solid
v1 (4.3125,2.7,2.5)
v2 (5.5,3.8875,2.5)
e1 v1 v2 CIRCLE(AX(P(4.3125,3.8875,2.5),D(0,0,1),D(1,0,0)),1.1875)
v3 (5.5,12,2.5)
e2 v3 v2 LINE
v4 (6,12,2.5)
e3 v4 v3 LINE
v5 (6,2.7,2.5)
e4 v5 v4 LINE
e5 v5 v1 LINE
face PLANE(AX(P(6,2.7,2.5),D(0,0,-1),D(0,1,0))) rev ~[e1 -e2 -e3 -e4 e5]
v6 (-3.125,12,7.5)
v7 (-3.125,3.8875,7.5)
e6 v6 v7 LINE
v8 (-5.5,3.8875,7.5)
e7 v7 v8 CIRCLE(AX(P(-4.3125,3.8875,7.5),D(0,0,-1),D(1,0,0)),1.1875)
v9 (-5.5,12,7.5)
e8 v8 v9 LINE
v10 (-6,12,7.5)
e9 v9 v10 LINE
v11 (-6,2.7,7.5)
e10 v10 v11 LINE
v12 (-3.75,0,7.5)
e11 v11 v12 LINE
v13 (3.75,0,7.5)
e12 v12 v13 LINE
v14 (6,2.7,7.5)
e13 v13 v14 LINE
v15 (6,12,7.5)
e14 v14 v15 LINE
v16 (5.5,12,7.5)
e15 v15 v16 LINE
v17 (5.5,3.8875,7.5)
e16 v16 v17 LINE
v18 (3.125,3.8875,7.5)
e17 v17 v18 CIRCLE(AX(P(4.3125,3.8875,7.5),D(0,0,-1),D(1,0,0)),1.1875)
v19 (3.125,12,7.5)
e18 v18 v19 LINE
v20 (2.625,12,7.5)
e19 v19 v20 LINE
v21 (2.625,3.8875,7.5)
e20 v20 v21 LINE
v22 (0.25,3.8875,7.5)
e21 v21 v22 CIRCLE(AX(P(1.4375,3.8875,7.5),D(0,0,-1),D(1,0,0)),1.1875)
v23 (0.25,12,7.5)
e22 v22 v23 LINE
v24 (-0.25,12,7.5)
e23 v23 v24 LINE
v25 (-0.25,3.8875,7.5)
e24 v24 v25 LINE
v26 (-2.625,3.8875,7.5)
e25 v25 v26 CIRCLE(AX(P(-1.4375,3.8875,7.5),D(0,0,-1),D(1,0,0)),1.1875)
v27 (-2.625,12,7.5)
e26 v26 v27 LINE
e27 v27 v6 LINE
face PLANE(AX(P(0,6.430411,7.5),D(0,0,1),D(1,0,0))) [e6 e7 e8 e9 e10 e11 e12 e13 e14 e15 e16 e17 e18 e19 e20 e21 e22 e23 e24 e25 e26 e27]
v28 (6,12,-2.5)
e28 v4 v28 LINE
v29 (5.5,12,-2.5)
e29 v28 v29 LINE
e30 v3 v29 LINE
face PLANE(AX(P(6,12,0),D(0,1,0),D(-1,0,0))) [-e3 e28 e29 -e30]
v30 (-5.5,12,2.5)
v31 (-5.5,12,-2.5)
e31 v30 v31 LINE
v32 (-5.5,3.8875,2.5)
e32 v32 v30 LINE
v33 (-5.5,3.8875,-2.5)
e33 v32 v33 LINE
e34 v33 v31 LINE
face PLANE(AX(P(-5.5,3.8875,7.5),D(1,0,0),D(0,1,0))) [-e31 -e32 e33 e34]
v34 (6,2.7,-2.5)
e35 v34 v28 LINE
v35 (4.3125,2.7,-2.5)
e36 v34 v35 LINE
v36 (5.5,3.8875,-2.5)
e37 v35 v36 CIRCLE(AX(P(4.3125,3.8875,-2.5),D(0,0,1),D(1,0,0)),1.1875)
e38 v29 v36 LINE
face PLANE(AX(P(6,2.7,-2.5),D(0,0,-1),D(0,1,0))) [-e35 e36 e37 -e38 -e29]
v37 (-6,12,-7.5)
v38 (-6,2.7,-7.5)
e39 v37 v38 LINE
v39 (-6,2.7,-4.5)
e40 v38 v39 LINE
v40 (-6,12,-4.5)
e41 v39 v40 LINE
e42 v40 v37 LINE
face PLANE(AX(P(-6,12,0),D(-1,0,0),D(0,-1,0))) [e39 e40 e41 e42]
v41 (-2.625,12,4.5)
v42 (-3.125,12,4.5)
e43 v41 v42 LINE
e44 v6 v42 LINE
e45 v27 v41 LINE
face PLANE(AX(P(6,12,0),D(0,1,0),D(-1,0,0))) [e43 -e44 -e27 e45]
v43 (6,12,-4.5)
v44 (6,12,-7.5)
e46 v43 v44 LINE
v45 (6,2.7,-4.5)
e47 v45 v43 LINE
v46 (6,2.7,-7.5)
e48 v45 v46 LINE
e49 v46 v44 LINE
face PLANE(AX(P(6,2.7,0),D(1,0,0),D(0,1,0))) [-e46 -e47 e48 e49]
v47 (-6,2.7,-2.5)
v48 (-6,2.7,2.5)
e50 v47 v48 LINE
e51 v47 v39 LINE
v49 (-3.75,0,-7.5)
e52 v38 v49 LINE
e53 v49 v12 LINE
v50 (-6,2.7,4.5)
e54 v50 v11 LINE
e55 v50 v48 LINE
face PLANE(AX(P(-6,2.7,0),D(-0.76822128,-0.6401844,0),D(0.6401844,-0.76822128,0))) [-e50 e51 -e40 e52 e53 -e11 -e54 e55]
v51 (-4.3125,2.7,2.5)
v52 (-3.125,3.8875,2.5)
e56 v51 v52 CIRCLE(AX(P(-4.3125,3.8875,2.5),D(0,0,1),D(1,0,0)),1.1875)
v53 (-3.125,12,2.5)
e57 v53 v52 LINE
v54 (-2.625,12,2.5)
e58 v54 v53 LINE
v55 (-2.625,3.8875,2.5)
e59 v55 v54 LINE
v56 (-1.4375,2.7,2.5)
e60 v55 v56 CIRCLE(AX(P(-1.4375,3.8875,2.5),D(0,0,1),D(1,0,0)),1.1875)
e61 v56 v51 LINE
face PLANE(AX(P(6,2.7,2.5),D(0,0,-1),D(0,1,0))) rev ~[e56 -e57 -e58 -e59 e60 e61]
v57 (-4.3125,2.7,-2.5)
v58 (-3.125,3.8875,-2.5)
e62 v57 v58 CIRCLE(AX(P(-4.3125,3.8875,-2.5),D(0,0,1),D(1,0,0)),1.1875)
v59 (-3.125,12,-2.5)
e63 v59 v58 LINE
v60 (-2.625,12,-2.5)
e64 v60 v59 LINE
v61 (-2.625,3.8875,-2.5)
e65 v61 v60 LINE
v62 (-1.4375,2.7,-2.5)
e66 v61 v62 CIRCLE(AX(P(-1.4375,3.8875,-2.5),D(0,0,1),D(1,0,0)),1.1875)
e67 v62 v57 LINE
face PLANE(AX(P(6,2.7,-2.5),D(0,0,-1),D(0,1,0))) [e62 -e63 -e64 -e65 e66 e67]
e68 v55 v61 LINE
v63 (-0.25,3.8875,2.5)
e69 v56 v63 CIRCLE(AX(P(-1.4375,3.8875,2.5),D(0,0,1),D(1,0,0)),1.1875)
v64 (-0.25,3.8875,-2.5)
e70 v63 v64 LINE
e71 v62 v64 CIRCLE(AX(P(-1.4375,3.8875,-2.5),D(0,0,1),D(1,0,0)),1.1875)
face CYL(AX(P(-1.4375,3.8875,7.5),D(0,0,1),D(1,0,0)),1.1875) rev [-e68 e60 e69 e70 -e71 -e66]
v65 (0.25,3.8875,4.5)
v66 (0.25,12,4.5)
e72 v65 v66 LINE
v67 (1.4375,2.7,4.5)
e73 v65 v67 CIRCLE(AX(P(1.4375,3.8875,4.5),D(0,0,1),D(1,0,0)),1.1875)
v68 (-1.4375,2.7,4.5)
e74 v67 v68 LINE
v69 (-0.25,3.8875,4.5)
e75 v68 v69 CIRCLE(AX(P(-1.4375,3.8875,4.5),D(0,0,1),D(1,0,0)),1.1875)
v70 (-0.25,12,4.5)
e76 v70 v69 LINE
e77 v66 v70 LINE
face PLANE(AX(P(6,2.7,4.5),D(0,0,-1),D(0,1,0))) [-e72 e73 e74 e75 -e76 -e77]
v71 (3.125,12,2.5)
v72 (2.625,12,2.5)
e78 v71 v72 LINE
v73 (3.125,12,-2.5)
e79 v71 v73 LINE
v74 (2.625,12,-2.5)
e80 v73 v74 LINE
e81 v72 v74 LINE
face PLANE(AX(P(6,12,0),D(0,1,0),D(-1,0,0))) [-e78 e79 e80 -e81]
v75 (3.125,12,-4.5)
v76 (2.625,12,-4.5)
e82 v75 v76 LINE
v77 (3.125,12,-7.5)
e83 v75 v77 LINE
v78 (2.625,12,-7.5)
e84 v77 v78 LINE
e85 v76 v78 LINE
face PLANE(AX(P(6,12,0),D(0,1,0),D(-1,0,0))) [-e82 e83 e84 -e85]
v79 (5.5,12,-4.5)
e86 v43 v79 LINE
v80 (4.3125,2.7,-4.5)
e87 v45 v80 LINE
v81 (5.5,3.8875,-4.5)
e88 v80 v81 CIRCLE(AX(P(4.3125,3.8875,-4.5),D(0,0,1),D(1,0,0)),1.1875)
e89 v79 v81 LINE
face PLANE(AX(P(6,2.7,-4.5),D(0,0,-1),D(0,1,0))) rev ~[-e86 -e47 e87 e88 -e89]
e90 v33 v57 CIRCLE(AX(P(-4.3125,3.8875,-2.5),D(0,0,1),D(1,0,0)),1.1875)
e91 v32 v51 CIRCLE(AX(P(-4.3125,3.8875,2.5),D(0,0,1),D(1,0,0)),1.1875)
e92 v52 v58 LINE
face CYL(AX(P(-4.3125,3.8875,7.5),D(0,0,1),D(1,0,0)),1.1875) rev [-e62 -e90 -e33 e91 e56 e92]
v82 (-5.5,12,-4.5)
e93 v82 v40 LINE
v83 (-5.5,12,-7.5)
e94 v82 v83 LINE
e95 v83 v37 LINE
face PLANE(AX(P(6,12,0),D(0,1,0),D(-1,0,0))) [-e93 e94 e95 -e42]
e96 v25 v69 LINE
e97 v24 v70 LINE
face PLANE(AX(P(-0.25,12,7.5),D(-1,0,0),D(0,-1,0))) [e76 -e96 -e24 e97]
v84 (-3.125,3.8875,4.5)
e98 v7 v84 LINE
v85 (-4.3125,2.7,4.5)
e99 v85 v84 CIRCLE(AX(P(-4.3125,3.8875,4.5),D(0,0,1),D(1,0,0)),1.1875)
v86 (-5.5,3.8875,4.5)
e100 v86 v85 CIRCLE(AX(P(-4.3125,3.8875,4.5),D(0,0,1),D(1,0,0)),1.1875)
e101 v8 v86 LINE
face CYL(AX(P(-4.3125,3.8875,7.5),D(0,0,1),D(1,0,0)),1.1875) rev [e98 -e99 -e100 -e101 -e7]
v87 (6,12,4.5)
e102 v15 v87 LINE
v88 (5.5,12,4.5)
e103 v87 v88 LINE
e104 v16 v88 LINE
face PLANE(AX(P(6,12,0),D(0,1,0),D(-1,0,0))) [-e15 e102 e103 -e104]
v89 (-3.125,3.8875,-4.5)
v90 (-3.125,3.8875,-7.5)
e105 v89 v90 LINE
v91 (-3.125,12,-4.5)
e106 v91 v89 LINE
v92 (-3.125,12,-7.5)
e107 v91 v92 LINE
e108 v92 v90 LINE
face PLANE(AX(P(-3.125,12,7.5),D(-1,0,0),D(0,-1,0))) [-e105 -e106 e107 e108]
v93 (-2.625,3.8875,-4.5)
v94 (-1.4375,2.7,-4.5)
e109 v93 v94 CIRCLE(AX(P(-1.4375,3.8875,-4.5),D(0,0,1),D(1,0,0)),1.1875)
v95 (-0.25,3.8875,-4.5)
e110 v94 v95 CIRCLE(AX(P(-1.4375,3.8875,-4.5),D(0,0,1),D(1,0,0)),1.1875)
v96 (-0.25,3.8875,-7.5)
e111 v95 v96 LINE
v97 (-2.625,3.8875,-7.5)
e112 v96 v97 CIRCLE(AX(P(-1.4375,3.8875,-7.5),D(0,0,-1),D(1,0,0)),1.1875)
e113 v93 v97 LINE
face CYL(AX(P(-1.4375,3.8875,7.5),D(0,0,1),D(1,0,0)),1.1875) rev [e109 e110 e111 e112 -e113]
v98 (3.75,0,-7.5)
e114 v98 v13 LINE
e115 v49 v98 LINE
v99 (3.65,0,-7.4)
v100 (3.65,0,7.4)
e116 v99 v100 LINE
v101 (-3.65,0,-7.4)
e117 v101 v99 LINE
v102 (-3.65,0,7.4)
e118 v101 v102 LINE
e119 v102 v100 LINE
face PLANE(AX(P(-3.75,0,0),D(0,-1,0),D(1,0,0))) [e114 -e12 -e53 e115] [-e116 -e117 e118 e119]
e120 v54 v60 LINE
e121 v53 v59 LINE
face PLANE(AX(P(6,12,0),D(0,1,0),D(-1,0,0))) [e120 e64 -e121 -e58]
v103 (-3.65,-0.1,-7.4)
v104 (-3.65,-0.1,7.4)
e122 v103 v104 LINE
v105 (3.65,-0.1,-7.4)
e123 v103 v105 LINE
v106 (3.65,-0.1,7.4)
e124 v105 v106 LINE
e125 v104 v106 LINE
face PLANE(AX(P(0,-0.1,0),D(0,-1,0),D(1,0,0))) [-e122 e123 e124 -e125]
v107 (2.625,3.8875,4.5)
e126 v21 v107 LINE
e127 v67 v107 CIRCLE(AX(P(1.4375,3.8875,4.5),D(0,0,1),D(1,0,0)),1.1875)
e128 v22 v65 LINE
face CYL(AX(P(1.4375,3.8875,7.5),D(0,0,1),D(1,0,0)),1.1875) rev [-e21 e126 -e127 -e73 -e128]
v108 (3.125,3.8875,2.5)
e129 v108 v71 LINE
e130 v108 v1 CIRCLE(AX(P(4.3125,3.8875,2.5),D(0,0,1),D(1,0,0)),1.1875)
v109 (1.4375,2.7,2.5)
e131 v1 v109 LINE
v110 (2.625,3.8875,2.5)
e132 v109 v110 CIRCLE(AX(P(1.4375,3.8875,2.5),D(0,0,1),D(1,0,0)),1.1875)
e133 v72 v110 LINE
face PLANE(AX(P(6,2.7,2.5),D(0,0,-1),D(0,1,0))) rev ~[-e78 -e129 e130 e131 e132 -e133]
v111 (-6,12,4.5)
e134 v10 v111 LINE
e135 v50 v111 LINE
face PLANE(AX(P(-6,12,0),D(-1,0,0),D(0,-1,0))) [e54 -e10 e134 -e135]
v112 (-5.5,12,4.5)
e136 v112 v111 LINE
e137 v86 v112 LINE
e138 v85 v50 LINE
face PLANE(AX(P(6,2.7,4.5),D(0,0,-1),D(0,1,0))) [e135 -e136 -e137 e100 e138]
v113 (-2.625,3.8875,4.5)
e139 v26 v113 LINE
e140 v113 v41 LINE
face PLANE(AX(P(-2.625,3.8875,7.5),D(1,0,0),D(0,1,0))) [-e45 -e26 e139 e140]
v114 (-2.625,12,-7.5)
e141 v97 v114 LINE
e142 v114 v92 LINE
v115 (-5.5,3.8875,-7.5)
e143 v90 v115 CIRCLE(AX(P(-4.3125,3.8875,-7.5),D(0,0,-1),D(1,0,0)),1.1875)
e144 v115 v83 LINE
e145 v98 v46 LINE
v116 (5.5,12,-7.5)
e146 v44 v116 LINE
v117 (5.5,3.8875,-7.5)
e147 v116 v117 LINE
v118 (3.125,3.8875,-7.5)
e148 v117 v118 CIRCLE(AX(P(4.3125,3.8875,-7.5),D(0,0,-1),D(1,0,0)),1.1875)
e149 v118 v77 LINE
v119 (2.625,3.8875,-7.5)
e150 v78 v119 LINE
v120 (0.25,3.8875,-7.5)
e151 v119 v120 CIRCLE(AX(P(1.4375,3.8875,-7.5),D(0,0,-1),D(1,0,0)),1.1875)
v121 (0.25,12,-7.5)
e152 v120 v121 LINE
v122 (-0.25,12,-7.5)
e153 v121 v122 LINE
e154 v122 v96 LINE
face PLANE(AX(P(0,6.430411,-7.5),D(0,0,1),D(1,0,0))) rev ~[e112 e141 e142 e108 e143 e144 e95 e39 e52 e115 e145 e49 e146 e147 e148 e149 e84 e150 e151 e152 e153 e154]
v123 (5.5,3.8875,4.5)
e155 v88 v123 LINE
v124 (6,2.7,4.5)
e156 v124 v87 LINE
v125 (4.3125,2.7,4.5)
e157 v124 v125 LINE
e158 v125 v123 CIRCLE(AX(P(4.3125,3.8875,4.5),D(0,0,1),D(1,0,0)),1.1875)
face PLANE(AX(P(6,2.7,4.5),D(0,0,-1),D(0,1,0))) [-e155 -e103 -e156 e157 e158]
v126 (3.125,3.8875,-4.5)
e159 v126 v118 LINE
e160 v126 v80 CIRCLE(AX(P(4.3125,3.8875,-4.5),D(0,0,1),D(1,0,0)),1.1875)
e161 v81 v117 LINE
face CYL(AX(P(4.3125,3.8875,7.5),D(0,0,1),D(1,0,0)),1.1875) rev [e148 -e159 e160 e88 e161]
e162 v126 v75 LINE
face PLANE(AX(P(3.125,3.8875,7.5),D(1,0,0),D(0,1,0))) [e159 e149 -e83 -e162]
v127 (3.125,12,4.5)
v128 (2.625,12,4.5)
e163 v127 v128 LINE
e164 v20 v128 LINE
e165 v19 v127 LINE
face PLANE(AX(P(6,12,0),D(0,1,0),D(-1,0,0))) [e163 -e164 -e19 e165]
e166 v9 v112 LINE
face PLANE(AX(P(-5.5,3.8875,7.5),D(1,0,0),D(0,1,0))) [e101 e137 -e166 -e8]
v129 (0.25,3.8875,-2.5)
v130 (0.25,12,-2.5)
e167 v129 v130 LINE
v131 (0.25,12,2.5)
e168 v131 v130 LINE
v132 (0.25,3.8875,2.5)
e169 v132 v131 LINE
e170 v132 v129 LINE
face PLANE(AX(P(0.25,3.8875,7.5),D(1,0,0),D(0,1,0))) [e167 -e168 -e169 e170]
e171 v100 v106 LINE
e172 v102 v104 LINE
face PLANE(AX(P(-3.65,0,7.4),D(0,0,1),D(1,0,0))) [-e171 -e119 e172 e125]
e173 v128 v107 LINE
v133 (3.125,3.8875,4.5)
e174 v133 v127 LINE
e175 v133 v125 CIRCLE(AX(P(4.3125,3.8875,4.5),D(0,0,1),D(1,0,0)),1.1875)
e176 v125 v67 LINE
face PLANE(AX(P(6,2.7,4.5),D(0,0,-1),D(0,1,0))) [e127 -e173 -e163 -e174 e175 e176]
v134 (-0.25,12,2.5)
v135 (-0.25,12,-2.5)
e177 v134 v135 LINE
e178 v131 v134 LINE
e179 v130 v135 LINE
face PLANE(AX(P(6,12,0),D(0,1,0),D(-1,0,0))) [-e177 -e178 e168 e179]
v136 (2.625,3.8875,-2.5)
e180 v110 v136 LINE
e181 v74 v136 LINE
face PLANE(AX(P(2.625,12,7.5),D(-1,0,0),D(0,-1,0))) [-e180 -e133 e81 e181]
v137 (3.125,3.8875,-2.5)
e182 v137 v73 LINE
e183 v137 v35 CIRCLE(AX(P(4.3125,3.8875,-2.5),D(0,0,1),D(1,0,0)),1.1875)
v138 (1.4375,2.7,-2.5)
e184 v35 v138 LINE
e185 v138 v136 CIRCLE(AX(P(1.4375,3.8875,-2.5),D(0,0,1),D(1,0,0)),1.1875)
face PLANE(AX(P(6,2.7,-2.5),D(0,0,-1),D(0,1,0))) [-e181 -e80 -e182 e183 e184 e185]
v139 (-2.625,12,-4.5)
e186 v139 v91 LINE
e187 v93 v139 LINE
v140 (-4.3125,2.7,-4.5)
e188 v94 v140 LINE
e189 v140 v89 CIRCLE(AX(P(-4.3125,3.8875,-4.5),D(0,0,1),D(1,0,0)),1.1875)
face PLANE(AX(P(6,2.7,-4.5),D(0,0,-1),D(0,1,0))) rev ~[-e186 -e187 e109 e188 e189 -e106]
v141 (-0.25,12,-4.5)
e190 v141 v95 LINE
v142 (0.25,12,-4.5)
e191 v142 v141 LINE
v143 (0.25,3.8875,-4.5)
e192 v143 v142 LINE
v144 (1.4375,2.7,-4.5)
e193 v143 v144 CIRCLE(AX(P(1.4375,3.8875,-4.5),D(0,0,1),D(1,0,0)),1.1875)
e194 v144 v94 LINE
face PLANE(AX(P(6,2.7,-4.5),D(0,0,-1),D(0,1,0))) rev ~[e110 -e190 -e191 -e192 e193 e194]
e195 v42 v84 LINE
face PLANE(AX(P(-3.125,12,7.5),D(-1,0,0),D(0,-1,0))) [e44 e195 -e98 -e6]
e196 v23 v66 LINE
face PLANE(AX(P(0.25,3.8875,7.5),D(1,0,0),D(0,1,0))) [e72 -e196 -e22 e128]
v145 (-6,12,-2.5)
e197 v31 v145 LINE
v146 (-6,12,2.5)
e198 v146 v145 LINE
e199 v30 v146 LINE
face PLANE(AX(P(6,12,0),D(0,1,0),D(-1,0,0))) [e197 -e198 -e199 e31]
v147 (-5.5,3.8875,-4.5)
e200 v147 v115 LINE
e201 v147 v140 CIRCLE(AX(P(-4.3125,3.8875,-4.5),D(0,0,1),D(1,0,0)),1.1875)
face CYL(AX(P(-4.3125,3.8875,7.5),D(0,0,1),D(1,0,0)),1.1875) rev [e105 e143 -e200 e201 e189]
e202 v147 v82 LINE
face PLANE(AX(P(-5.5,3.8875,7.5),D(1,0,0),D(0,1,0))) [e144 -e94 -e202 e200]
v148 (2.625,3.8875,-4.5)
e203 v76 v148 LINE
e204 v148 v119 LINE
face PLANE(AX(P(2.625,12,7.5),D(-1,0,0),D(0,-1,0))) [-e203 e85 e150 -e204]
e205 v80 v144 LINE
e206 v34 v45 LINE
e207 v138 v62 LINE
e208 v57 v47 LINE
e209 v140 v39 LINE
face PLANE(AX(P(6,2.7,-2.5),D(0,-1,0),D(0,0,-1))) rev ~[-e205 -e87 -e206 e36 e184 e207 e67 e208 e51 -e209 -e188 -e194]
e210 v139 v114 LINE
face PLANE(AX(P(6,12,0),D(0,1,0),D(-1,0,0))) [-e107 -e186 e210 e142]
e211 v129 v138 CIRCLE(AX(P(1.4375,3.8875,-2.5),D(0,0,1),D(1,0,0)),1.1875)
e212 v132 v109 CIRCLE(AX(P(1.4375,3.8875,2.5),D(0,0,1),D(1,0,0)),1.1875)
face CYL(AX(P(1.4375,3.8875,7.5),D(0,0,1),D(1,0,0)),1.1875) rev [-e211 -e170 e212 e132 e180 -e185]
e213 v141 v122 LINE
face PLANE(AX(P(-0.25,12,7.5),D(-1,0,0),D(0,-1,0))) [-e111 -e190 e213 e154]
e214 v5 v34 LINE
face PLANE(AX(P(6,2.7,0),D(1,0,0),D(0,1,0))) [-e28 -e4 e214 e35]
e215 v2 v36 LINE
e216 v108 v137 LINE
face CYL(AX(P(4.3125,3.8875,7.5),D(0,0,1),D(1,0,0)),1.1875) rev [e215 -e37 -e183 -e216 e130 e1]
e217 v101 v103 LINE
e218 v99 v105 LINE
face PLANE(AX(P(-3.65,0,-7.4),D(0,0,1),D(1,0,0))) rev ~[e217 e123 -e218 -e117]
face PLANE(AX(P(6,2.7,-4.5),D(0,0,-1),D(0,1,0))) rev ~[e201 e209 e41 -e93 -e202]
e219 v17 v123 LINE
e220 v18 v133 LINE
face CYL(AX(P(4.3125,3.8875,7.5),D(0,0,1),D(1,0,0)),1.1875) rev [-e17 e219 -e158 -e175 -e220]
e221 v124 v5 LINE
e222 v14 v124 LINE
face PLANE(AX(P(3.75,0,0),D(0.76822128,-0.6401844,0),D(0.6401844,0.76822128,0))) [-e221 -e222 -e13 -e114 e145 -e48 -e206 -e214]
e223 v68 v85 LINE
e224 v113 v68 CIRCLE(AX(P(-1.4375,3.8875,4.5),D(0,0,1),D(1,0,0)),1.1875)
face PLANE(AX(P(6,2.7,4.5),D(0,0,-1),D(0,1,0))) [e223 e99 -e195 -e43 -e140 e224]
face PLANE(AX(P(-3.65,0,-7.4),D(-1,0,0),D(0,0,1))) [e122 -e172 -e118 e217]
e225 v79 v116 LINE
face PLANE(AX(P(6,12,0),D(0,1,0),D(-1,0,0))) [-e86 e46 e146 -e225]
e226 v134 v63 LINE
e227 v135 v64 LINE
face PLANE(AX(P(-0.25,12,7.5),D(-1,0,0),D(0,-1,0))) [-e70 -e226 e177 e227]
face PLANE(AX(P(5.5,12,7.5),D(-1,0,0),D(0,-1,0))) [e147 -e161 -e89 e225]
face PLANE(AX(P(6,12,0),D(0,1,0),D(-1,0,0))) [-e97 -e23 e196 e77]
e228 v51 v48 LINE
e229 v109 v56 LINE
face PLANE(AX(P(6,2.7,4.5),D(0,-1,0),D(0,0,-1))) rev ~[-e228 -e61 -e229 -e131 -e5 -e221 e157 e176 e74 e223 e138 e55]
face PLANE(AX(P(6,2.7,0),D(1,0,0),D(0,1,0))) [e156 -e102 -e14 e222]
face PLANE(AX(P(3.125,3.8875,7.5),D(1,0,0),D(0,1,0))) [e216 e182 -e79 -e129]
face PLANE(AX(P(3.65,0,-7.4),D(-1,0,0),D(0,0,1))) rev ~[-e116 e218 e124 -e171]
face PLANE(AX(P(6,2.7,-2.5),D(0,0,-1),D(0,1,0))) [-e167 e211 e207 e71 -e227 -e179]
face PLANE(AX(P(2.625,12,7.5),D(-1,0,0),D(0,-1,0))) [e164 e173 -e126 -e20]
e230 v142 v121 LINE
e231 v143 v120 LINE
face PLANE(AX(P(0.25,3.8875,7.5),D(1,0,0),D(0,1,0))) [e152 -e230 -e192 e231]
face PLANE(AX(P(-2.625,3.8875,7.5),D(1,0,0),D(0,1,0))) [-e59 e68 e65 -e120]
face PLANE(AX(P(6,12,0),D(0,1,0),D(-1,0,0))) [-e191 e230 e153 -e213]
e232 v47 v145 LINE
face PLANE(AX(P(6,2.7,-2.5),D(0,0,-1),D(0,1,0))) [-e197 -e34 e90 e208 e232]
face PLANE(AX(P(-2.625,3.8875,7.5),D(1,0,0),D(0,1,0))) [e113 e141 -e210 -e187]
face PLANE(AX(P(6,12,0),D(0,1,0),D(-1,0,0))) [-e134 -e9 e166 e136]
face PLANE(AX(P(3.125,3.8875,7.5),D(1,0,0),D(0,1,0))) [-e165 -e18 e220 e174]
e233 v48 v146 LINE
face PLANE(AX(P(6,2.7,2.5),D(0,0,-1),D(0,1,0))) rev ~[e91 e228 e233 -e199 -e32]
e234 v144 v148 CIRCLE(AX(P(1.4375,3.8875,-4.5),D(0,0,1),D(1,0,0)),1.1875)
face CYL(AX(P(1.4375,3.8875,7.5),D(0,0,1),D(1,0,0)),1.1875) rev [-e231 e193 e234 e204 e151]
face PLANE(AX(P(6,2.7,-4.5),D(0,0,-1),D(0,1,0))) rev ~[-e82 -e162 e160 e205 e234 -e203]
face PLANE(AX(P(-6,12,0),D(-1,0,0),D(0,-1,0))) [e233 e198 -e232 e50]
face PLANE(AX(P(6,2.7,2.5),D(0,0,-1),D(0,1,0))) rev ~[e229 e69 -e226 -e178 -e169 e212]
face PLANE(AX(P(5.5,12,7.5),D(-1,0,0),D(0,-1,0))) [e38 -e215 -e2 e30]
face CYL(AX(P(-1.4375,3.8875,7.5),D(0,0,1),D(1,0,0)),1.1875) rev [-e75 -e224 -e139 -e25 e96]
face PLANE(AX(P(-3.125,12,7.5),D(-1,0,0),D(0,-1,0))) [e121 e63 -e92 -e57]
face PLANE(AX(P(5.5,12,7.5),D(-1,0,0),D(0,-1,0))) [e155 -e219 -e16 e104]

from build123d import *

# Parameters (mm, degrees)
AUFSATZ_LINEAR_AUSTRAGEN1_DEPTH = 7.5
SCHNITT_LINEAR_AUSTRAGEN1_DEPTH = 15
SCHNITT_LINEAR_AUSTRAGEN2_REACH = 20.554
SKIZZE3_W                       = 2
SKIZZE3_H                       = 9.3
SKIZZE4_W                       = 7.3
SKIZZE4_H                       = 14.8
AUFSATZ_LINEAR_AUSTRAGEN2_DEPTH = 0.1


with BuildPart() as part:
    # Skizze1 → Aufsatz-Linear austragen1 (new, symmetric)
    with BuildSketch(Plane.XY):
        Polygon((-6, 12), (-6, 2.7), (-3.75, 0), (3.75, 0), (6, 2.7), (6, 12), align=None)
    extrude(amount=AUFSATZ_LINEAR_AUSTRAGEN1_DEPTH, both=True)

    # Skizze2 → Schnitt-Linear austragen1 (cut)
    with BuildSketch(Plane.XY.offset(7.5)):
        with BuildLine():
            Line((-3.125, 12), (-3.125, 3.8875))
            ThreePointArc((-3.125, 3.8875), (-4.3125, 2.7), (-5.5, 3.8875))
            Line((-5.5, 3.8875), (-5.5, 12))
            ThreePointArc((-5.5, 12), (-4.3125, 13.1875), (-3.125, 12))
        make_face()
        with BuildLine():
            Line((-0.25, 12), (-0.25, 3.8875))
            ThreePointArc((-0.25, 3.8875), (-1.4375, 2.7), (-2.625, 3.8875))
            Line((-2.625, 3.8875), (-2.625, 12))
            ThreePointArc((-2.625, 12), (-1.4375, 13.1875), (-0.25, 12))
        make_face()
        with BuildLine():
            Line((2.625, 12), (2.625, 3.8875))
            ThreePointArc((2.625, 3.8875), (1.4375, 2.7), (0.25, 3.8875))
            Line((0.25, 3.8875), (0.25, 12))
            ThreePointArc((0.25, 12), (1.4375, 13.1875), (2.625, 12))
        make_face()
        with BuildLine():
            Line((5.5, 12), (5.5, 3.8875))
            ThreePointArc((5.5, 3.8875), (4.3125, 2.7), (3.125, 3.8875))
            Line((3.125, 3.8875), (3.125, 12))
            ThreePointArc((3.125, 12), (4.3125, 13.1875), (5.5, 12))
        make_face()
    extrude(amount=-SCHNITT_LINEAR_AUSTRAGEN1_DEPTH, mode=Mode.SUBTRACT)

    # Schnitt-Linear austragen2: up to this face of the body (flat: up to its plane)
    schnitt_linear_austragen2_end = Plane(part.part.faces().sort_by_distance((-6, 7.35, 0))[0])
    # Skizze3 → Schnitt-Linear austragen2 (cut, up to the picked face)
    with BuildSketch(Plane(origin=(6, 0, 0), x_dir=(0, 0, -1), z_dir=(1, 0, 0)), mode=Mode.PRIVATE) as schnitt_linear_austragen2_sk1:
        with Locations((-3.5, 7.35)):
            Rectangle(SKIZZE3_W, SKIZZE3_H)
    schnitt_linear_austragen2_tool1 = split(extrude(schnitt_linear_austragen2_sk1.sketch, amount=-SCHNITT_LINEAR_AUSTRAGEN2_REACH, mode=Mode.PRIVATE), bisect_by=schnitt_linear_austragen2_end, keep=Keep.BOTH, mode=Mode.PRIVATE)
    # Skizze3 → Schnitt-Linear austragen2 (cut, up to the picked face)
    with BuildSketch(Plane(origin=(6, 0, 0), x_dir=(0, 0, -1), z_dir=(1, 0, 0)), mode=Mode.PRIVATE) as schnitt_linear_austragen2_sk2:
        with Locations((3.5, 7.35)):
            Rectangle(SKIZZE3_W, SKIZZE3_H)
    schnitt_linear_austragen2_tool2 = split(extrude(schnitt_linear_austragen2_sk2.sketch, amount=-SCHNITT_LINEAR_AUSTRAGEN2_REACH, mode=Mode.PRIVATE), bisect_by=schnitt_linear_austragen2_end, keep=Keep.BOTH, mode=Mode.PRIVATE)
    # Skizze3 → Schnitt-Linear austragen2 (cut, up to the picked face)
    with BuildSketch(Plane(origin=(6, 0, 0), x_dir=(0, 0, -1), z_dir=(1, 0, 0)), mode=Mode.PRIVATE) as schnitt_linear_austragen2_sk3:
        with Locations((10.5, 7.35)):
            Rectangle(SKIZZE3_W, SKIZZE3_H)
    schnitt_linear_austragen2_tool3 = split(extrude(schnitt_linear_austragen2_sk3.sketch, amount=-SCHNITT_LINEAR_AUSTRAGEN2_REACH, mode=Mode.PRIVATE), bisect_by=schnitt_linear_austragen2_end, keep=Keep.BOTH, mode=Mode.PRIVATE)
    # Skizze3 → Schnitt-Linear austragen2 (cut, up to the picked face)
    with BuildSketch(Plane(origin=(6, 0, 0), x_dir=(0, 0, -1), z_dir=(1, 0, 0)), mode=Mode.PRIVATE) as schnitt_linear_austragen2_sk4:
        with Locations((17.5, 7.35)):
            Rectangle(SKIZZE3_W, SKIZZE3_H)
    schnitt_linear_austragen2_tool4 = split(extrude(schnitt_linear_austragen2_sk4.sketch, amount=-SCHNITT_LINEAR_AUSTRAGEN2_REACH, mode=Mode.PRIVATE), bisect_by=schnitt_linear_austragen2_end, keep=Keep.BOTH, mode=Mode.PRIVATE)
    add(schnitt_linear_austragen2_tool1.solids().sort_by(Axis((6, 7.35, 3.5), (-1, 0, 0)))[0], mode=Mode.SUBTRACT)
    add(schnitt_linear_austragen2_tool2.solids().sort_by(Axis((6, 7.35, -3.5), (-1, 0, 0)))[0], mode=Mode.SUBTRACT)
    add(schnitt_linear_austragen2_tool3.solids().sort_by(Axis((6, 7.35, -10.5), (-1, 0, 0)))[0], mode=Mode.SUBTRACT)
    add(schnitt_linear_austragen2_tool4.solids().sort_by(Axis((6, 7.35, -17.5), (-1, 0, 0)))[0], mode=Mode.SUBTRACT)

    # Skizze4 → Aufsatz-Linear austragen2 (add)
    with BuildSketch(Plane.XZ):
        Rectangle(SKIZZE4_W, SKIZZE4_H)
    extrude(amount=AUFSATZ_LINEAR_AUSTRAGEN2_DEPTH)


solid = part.part
